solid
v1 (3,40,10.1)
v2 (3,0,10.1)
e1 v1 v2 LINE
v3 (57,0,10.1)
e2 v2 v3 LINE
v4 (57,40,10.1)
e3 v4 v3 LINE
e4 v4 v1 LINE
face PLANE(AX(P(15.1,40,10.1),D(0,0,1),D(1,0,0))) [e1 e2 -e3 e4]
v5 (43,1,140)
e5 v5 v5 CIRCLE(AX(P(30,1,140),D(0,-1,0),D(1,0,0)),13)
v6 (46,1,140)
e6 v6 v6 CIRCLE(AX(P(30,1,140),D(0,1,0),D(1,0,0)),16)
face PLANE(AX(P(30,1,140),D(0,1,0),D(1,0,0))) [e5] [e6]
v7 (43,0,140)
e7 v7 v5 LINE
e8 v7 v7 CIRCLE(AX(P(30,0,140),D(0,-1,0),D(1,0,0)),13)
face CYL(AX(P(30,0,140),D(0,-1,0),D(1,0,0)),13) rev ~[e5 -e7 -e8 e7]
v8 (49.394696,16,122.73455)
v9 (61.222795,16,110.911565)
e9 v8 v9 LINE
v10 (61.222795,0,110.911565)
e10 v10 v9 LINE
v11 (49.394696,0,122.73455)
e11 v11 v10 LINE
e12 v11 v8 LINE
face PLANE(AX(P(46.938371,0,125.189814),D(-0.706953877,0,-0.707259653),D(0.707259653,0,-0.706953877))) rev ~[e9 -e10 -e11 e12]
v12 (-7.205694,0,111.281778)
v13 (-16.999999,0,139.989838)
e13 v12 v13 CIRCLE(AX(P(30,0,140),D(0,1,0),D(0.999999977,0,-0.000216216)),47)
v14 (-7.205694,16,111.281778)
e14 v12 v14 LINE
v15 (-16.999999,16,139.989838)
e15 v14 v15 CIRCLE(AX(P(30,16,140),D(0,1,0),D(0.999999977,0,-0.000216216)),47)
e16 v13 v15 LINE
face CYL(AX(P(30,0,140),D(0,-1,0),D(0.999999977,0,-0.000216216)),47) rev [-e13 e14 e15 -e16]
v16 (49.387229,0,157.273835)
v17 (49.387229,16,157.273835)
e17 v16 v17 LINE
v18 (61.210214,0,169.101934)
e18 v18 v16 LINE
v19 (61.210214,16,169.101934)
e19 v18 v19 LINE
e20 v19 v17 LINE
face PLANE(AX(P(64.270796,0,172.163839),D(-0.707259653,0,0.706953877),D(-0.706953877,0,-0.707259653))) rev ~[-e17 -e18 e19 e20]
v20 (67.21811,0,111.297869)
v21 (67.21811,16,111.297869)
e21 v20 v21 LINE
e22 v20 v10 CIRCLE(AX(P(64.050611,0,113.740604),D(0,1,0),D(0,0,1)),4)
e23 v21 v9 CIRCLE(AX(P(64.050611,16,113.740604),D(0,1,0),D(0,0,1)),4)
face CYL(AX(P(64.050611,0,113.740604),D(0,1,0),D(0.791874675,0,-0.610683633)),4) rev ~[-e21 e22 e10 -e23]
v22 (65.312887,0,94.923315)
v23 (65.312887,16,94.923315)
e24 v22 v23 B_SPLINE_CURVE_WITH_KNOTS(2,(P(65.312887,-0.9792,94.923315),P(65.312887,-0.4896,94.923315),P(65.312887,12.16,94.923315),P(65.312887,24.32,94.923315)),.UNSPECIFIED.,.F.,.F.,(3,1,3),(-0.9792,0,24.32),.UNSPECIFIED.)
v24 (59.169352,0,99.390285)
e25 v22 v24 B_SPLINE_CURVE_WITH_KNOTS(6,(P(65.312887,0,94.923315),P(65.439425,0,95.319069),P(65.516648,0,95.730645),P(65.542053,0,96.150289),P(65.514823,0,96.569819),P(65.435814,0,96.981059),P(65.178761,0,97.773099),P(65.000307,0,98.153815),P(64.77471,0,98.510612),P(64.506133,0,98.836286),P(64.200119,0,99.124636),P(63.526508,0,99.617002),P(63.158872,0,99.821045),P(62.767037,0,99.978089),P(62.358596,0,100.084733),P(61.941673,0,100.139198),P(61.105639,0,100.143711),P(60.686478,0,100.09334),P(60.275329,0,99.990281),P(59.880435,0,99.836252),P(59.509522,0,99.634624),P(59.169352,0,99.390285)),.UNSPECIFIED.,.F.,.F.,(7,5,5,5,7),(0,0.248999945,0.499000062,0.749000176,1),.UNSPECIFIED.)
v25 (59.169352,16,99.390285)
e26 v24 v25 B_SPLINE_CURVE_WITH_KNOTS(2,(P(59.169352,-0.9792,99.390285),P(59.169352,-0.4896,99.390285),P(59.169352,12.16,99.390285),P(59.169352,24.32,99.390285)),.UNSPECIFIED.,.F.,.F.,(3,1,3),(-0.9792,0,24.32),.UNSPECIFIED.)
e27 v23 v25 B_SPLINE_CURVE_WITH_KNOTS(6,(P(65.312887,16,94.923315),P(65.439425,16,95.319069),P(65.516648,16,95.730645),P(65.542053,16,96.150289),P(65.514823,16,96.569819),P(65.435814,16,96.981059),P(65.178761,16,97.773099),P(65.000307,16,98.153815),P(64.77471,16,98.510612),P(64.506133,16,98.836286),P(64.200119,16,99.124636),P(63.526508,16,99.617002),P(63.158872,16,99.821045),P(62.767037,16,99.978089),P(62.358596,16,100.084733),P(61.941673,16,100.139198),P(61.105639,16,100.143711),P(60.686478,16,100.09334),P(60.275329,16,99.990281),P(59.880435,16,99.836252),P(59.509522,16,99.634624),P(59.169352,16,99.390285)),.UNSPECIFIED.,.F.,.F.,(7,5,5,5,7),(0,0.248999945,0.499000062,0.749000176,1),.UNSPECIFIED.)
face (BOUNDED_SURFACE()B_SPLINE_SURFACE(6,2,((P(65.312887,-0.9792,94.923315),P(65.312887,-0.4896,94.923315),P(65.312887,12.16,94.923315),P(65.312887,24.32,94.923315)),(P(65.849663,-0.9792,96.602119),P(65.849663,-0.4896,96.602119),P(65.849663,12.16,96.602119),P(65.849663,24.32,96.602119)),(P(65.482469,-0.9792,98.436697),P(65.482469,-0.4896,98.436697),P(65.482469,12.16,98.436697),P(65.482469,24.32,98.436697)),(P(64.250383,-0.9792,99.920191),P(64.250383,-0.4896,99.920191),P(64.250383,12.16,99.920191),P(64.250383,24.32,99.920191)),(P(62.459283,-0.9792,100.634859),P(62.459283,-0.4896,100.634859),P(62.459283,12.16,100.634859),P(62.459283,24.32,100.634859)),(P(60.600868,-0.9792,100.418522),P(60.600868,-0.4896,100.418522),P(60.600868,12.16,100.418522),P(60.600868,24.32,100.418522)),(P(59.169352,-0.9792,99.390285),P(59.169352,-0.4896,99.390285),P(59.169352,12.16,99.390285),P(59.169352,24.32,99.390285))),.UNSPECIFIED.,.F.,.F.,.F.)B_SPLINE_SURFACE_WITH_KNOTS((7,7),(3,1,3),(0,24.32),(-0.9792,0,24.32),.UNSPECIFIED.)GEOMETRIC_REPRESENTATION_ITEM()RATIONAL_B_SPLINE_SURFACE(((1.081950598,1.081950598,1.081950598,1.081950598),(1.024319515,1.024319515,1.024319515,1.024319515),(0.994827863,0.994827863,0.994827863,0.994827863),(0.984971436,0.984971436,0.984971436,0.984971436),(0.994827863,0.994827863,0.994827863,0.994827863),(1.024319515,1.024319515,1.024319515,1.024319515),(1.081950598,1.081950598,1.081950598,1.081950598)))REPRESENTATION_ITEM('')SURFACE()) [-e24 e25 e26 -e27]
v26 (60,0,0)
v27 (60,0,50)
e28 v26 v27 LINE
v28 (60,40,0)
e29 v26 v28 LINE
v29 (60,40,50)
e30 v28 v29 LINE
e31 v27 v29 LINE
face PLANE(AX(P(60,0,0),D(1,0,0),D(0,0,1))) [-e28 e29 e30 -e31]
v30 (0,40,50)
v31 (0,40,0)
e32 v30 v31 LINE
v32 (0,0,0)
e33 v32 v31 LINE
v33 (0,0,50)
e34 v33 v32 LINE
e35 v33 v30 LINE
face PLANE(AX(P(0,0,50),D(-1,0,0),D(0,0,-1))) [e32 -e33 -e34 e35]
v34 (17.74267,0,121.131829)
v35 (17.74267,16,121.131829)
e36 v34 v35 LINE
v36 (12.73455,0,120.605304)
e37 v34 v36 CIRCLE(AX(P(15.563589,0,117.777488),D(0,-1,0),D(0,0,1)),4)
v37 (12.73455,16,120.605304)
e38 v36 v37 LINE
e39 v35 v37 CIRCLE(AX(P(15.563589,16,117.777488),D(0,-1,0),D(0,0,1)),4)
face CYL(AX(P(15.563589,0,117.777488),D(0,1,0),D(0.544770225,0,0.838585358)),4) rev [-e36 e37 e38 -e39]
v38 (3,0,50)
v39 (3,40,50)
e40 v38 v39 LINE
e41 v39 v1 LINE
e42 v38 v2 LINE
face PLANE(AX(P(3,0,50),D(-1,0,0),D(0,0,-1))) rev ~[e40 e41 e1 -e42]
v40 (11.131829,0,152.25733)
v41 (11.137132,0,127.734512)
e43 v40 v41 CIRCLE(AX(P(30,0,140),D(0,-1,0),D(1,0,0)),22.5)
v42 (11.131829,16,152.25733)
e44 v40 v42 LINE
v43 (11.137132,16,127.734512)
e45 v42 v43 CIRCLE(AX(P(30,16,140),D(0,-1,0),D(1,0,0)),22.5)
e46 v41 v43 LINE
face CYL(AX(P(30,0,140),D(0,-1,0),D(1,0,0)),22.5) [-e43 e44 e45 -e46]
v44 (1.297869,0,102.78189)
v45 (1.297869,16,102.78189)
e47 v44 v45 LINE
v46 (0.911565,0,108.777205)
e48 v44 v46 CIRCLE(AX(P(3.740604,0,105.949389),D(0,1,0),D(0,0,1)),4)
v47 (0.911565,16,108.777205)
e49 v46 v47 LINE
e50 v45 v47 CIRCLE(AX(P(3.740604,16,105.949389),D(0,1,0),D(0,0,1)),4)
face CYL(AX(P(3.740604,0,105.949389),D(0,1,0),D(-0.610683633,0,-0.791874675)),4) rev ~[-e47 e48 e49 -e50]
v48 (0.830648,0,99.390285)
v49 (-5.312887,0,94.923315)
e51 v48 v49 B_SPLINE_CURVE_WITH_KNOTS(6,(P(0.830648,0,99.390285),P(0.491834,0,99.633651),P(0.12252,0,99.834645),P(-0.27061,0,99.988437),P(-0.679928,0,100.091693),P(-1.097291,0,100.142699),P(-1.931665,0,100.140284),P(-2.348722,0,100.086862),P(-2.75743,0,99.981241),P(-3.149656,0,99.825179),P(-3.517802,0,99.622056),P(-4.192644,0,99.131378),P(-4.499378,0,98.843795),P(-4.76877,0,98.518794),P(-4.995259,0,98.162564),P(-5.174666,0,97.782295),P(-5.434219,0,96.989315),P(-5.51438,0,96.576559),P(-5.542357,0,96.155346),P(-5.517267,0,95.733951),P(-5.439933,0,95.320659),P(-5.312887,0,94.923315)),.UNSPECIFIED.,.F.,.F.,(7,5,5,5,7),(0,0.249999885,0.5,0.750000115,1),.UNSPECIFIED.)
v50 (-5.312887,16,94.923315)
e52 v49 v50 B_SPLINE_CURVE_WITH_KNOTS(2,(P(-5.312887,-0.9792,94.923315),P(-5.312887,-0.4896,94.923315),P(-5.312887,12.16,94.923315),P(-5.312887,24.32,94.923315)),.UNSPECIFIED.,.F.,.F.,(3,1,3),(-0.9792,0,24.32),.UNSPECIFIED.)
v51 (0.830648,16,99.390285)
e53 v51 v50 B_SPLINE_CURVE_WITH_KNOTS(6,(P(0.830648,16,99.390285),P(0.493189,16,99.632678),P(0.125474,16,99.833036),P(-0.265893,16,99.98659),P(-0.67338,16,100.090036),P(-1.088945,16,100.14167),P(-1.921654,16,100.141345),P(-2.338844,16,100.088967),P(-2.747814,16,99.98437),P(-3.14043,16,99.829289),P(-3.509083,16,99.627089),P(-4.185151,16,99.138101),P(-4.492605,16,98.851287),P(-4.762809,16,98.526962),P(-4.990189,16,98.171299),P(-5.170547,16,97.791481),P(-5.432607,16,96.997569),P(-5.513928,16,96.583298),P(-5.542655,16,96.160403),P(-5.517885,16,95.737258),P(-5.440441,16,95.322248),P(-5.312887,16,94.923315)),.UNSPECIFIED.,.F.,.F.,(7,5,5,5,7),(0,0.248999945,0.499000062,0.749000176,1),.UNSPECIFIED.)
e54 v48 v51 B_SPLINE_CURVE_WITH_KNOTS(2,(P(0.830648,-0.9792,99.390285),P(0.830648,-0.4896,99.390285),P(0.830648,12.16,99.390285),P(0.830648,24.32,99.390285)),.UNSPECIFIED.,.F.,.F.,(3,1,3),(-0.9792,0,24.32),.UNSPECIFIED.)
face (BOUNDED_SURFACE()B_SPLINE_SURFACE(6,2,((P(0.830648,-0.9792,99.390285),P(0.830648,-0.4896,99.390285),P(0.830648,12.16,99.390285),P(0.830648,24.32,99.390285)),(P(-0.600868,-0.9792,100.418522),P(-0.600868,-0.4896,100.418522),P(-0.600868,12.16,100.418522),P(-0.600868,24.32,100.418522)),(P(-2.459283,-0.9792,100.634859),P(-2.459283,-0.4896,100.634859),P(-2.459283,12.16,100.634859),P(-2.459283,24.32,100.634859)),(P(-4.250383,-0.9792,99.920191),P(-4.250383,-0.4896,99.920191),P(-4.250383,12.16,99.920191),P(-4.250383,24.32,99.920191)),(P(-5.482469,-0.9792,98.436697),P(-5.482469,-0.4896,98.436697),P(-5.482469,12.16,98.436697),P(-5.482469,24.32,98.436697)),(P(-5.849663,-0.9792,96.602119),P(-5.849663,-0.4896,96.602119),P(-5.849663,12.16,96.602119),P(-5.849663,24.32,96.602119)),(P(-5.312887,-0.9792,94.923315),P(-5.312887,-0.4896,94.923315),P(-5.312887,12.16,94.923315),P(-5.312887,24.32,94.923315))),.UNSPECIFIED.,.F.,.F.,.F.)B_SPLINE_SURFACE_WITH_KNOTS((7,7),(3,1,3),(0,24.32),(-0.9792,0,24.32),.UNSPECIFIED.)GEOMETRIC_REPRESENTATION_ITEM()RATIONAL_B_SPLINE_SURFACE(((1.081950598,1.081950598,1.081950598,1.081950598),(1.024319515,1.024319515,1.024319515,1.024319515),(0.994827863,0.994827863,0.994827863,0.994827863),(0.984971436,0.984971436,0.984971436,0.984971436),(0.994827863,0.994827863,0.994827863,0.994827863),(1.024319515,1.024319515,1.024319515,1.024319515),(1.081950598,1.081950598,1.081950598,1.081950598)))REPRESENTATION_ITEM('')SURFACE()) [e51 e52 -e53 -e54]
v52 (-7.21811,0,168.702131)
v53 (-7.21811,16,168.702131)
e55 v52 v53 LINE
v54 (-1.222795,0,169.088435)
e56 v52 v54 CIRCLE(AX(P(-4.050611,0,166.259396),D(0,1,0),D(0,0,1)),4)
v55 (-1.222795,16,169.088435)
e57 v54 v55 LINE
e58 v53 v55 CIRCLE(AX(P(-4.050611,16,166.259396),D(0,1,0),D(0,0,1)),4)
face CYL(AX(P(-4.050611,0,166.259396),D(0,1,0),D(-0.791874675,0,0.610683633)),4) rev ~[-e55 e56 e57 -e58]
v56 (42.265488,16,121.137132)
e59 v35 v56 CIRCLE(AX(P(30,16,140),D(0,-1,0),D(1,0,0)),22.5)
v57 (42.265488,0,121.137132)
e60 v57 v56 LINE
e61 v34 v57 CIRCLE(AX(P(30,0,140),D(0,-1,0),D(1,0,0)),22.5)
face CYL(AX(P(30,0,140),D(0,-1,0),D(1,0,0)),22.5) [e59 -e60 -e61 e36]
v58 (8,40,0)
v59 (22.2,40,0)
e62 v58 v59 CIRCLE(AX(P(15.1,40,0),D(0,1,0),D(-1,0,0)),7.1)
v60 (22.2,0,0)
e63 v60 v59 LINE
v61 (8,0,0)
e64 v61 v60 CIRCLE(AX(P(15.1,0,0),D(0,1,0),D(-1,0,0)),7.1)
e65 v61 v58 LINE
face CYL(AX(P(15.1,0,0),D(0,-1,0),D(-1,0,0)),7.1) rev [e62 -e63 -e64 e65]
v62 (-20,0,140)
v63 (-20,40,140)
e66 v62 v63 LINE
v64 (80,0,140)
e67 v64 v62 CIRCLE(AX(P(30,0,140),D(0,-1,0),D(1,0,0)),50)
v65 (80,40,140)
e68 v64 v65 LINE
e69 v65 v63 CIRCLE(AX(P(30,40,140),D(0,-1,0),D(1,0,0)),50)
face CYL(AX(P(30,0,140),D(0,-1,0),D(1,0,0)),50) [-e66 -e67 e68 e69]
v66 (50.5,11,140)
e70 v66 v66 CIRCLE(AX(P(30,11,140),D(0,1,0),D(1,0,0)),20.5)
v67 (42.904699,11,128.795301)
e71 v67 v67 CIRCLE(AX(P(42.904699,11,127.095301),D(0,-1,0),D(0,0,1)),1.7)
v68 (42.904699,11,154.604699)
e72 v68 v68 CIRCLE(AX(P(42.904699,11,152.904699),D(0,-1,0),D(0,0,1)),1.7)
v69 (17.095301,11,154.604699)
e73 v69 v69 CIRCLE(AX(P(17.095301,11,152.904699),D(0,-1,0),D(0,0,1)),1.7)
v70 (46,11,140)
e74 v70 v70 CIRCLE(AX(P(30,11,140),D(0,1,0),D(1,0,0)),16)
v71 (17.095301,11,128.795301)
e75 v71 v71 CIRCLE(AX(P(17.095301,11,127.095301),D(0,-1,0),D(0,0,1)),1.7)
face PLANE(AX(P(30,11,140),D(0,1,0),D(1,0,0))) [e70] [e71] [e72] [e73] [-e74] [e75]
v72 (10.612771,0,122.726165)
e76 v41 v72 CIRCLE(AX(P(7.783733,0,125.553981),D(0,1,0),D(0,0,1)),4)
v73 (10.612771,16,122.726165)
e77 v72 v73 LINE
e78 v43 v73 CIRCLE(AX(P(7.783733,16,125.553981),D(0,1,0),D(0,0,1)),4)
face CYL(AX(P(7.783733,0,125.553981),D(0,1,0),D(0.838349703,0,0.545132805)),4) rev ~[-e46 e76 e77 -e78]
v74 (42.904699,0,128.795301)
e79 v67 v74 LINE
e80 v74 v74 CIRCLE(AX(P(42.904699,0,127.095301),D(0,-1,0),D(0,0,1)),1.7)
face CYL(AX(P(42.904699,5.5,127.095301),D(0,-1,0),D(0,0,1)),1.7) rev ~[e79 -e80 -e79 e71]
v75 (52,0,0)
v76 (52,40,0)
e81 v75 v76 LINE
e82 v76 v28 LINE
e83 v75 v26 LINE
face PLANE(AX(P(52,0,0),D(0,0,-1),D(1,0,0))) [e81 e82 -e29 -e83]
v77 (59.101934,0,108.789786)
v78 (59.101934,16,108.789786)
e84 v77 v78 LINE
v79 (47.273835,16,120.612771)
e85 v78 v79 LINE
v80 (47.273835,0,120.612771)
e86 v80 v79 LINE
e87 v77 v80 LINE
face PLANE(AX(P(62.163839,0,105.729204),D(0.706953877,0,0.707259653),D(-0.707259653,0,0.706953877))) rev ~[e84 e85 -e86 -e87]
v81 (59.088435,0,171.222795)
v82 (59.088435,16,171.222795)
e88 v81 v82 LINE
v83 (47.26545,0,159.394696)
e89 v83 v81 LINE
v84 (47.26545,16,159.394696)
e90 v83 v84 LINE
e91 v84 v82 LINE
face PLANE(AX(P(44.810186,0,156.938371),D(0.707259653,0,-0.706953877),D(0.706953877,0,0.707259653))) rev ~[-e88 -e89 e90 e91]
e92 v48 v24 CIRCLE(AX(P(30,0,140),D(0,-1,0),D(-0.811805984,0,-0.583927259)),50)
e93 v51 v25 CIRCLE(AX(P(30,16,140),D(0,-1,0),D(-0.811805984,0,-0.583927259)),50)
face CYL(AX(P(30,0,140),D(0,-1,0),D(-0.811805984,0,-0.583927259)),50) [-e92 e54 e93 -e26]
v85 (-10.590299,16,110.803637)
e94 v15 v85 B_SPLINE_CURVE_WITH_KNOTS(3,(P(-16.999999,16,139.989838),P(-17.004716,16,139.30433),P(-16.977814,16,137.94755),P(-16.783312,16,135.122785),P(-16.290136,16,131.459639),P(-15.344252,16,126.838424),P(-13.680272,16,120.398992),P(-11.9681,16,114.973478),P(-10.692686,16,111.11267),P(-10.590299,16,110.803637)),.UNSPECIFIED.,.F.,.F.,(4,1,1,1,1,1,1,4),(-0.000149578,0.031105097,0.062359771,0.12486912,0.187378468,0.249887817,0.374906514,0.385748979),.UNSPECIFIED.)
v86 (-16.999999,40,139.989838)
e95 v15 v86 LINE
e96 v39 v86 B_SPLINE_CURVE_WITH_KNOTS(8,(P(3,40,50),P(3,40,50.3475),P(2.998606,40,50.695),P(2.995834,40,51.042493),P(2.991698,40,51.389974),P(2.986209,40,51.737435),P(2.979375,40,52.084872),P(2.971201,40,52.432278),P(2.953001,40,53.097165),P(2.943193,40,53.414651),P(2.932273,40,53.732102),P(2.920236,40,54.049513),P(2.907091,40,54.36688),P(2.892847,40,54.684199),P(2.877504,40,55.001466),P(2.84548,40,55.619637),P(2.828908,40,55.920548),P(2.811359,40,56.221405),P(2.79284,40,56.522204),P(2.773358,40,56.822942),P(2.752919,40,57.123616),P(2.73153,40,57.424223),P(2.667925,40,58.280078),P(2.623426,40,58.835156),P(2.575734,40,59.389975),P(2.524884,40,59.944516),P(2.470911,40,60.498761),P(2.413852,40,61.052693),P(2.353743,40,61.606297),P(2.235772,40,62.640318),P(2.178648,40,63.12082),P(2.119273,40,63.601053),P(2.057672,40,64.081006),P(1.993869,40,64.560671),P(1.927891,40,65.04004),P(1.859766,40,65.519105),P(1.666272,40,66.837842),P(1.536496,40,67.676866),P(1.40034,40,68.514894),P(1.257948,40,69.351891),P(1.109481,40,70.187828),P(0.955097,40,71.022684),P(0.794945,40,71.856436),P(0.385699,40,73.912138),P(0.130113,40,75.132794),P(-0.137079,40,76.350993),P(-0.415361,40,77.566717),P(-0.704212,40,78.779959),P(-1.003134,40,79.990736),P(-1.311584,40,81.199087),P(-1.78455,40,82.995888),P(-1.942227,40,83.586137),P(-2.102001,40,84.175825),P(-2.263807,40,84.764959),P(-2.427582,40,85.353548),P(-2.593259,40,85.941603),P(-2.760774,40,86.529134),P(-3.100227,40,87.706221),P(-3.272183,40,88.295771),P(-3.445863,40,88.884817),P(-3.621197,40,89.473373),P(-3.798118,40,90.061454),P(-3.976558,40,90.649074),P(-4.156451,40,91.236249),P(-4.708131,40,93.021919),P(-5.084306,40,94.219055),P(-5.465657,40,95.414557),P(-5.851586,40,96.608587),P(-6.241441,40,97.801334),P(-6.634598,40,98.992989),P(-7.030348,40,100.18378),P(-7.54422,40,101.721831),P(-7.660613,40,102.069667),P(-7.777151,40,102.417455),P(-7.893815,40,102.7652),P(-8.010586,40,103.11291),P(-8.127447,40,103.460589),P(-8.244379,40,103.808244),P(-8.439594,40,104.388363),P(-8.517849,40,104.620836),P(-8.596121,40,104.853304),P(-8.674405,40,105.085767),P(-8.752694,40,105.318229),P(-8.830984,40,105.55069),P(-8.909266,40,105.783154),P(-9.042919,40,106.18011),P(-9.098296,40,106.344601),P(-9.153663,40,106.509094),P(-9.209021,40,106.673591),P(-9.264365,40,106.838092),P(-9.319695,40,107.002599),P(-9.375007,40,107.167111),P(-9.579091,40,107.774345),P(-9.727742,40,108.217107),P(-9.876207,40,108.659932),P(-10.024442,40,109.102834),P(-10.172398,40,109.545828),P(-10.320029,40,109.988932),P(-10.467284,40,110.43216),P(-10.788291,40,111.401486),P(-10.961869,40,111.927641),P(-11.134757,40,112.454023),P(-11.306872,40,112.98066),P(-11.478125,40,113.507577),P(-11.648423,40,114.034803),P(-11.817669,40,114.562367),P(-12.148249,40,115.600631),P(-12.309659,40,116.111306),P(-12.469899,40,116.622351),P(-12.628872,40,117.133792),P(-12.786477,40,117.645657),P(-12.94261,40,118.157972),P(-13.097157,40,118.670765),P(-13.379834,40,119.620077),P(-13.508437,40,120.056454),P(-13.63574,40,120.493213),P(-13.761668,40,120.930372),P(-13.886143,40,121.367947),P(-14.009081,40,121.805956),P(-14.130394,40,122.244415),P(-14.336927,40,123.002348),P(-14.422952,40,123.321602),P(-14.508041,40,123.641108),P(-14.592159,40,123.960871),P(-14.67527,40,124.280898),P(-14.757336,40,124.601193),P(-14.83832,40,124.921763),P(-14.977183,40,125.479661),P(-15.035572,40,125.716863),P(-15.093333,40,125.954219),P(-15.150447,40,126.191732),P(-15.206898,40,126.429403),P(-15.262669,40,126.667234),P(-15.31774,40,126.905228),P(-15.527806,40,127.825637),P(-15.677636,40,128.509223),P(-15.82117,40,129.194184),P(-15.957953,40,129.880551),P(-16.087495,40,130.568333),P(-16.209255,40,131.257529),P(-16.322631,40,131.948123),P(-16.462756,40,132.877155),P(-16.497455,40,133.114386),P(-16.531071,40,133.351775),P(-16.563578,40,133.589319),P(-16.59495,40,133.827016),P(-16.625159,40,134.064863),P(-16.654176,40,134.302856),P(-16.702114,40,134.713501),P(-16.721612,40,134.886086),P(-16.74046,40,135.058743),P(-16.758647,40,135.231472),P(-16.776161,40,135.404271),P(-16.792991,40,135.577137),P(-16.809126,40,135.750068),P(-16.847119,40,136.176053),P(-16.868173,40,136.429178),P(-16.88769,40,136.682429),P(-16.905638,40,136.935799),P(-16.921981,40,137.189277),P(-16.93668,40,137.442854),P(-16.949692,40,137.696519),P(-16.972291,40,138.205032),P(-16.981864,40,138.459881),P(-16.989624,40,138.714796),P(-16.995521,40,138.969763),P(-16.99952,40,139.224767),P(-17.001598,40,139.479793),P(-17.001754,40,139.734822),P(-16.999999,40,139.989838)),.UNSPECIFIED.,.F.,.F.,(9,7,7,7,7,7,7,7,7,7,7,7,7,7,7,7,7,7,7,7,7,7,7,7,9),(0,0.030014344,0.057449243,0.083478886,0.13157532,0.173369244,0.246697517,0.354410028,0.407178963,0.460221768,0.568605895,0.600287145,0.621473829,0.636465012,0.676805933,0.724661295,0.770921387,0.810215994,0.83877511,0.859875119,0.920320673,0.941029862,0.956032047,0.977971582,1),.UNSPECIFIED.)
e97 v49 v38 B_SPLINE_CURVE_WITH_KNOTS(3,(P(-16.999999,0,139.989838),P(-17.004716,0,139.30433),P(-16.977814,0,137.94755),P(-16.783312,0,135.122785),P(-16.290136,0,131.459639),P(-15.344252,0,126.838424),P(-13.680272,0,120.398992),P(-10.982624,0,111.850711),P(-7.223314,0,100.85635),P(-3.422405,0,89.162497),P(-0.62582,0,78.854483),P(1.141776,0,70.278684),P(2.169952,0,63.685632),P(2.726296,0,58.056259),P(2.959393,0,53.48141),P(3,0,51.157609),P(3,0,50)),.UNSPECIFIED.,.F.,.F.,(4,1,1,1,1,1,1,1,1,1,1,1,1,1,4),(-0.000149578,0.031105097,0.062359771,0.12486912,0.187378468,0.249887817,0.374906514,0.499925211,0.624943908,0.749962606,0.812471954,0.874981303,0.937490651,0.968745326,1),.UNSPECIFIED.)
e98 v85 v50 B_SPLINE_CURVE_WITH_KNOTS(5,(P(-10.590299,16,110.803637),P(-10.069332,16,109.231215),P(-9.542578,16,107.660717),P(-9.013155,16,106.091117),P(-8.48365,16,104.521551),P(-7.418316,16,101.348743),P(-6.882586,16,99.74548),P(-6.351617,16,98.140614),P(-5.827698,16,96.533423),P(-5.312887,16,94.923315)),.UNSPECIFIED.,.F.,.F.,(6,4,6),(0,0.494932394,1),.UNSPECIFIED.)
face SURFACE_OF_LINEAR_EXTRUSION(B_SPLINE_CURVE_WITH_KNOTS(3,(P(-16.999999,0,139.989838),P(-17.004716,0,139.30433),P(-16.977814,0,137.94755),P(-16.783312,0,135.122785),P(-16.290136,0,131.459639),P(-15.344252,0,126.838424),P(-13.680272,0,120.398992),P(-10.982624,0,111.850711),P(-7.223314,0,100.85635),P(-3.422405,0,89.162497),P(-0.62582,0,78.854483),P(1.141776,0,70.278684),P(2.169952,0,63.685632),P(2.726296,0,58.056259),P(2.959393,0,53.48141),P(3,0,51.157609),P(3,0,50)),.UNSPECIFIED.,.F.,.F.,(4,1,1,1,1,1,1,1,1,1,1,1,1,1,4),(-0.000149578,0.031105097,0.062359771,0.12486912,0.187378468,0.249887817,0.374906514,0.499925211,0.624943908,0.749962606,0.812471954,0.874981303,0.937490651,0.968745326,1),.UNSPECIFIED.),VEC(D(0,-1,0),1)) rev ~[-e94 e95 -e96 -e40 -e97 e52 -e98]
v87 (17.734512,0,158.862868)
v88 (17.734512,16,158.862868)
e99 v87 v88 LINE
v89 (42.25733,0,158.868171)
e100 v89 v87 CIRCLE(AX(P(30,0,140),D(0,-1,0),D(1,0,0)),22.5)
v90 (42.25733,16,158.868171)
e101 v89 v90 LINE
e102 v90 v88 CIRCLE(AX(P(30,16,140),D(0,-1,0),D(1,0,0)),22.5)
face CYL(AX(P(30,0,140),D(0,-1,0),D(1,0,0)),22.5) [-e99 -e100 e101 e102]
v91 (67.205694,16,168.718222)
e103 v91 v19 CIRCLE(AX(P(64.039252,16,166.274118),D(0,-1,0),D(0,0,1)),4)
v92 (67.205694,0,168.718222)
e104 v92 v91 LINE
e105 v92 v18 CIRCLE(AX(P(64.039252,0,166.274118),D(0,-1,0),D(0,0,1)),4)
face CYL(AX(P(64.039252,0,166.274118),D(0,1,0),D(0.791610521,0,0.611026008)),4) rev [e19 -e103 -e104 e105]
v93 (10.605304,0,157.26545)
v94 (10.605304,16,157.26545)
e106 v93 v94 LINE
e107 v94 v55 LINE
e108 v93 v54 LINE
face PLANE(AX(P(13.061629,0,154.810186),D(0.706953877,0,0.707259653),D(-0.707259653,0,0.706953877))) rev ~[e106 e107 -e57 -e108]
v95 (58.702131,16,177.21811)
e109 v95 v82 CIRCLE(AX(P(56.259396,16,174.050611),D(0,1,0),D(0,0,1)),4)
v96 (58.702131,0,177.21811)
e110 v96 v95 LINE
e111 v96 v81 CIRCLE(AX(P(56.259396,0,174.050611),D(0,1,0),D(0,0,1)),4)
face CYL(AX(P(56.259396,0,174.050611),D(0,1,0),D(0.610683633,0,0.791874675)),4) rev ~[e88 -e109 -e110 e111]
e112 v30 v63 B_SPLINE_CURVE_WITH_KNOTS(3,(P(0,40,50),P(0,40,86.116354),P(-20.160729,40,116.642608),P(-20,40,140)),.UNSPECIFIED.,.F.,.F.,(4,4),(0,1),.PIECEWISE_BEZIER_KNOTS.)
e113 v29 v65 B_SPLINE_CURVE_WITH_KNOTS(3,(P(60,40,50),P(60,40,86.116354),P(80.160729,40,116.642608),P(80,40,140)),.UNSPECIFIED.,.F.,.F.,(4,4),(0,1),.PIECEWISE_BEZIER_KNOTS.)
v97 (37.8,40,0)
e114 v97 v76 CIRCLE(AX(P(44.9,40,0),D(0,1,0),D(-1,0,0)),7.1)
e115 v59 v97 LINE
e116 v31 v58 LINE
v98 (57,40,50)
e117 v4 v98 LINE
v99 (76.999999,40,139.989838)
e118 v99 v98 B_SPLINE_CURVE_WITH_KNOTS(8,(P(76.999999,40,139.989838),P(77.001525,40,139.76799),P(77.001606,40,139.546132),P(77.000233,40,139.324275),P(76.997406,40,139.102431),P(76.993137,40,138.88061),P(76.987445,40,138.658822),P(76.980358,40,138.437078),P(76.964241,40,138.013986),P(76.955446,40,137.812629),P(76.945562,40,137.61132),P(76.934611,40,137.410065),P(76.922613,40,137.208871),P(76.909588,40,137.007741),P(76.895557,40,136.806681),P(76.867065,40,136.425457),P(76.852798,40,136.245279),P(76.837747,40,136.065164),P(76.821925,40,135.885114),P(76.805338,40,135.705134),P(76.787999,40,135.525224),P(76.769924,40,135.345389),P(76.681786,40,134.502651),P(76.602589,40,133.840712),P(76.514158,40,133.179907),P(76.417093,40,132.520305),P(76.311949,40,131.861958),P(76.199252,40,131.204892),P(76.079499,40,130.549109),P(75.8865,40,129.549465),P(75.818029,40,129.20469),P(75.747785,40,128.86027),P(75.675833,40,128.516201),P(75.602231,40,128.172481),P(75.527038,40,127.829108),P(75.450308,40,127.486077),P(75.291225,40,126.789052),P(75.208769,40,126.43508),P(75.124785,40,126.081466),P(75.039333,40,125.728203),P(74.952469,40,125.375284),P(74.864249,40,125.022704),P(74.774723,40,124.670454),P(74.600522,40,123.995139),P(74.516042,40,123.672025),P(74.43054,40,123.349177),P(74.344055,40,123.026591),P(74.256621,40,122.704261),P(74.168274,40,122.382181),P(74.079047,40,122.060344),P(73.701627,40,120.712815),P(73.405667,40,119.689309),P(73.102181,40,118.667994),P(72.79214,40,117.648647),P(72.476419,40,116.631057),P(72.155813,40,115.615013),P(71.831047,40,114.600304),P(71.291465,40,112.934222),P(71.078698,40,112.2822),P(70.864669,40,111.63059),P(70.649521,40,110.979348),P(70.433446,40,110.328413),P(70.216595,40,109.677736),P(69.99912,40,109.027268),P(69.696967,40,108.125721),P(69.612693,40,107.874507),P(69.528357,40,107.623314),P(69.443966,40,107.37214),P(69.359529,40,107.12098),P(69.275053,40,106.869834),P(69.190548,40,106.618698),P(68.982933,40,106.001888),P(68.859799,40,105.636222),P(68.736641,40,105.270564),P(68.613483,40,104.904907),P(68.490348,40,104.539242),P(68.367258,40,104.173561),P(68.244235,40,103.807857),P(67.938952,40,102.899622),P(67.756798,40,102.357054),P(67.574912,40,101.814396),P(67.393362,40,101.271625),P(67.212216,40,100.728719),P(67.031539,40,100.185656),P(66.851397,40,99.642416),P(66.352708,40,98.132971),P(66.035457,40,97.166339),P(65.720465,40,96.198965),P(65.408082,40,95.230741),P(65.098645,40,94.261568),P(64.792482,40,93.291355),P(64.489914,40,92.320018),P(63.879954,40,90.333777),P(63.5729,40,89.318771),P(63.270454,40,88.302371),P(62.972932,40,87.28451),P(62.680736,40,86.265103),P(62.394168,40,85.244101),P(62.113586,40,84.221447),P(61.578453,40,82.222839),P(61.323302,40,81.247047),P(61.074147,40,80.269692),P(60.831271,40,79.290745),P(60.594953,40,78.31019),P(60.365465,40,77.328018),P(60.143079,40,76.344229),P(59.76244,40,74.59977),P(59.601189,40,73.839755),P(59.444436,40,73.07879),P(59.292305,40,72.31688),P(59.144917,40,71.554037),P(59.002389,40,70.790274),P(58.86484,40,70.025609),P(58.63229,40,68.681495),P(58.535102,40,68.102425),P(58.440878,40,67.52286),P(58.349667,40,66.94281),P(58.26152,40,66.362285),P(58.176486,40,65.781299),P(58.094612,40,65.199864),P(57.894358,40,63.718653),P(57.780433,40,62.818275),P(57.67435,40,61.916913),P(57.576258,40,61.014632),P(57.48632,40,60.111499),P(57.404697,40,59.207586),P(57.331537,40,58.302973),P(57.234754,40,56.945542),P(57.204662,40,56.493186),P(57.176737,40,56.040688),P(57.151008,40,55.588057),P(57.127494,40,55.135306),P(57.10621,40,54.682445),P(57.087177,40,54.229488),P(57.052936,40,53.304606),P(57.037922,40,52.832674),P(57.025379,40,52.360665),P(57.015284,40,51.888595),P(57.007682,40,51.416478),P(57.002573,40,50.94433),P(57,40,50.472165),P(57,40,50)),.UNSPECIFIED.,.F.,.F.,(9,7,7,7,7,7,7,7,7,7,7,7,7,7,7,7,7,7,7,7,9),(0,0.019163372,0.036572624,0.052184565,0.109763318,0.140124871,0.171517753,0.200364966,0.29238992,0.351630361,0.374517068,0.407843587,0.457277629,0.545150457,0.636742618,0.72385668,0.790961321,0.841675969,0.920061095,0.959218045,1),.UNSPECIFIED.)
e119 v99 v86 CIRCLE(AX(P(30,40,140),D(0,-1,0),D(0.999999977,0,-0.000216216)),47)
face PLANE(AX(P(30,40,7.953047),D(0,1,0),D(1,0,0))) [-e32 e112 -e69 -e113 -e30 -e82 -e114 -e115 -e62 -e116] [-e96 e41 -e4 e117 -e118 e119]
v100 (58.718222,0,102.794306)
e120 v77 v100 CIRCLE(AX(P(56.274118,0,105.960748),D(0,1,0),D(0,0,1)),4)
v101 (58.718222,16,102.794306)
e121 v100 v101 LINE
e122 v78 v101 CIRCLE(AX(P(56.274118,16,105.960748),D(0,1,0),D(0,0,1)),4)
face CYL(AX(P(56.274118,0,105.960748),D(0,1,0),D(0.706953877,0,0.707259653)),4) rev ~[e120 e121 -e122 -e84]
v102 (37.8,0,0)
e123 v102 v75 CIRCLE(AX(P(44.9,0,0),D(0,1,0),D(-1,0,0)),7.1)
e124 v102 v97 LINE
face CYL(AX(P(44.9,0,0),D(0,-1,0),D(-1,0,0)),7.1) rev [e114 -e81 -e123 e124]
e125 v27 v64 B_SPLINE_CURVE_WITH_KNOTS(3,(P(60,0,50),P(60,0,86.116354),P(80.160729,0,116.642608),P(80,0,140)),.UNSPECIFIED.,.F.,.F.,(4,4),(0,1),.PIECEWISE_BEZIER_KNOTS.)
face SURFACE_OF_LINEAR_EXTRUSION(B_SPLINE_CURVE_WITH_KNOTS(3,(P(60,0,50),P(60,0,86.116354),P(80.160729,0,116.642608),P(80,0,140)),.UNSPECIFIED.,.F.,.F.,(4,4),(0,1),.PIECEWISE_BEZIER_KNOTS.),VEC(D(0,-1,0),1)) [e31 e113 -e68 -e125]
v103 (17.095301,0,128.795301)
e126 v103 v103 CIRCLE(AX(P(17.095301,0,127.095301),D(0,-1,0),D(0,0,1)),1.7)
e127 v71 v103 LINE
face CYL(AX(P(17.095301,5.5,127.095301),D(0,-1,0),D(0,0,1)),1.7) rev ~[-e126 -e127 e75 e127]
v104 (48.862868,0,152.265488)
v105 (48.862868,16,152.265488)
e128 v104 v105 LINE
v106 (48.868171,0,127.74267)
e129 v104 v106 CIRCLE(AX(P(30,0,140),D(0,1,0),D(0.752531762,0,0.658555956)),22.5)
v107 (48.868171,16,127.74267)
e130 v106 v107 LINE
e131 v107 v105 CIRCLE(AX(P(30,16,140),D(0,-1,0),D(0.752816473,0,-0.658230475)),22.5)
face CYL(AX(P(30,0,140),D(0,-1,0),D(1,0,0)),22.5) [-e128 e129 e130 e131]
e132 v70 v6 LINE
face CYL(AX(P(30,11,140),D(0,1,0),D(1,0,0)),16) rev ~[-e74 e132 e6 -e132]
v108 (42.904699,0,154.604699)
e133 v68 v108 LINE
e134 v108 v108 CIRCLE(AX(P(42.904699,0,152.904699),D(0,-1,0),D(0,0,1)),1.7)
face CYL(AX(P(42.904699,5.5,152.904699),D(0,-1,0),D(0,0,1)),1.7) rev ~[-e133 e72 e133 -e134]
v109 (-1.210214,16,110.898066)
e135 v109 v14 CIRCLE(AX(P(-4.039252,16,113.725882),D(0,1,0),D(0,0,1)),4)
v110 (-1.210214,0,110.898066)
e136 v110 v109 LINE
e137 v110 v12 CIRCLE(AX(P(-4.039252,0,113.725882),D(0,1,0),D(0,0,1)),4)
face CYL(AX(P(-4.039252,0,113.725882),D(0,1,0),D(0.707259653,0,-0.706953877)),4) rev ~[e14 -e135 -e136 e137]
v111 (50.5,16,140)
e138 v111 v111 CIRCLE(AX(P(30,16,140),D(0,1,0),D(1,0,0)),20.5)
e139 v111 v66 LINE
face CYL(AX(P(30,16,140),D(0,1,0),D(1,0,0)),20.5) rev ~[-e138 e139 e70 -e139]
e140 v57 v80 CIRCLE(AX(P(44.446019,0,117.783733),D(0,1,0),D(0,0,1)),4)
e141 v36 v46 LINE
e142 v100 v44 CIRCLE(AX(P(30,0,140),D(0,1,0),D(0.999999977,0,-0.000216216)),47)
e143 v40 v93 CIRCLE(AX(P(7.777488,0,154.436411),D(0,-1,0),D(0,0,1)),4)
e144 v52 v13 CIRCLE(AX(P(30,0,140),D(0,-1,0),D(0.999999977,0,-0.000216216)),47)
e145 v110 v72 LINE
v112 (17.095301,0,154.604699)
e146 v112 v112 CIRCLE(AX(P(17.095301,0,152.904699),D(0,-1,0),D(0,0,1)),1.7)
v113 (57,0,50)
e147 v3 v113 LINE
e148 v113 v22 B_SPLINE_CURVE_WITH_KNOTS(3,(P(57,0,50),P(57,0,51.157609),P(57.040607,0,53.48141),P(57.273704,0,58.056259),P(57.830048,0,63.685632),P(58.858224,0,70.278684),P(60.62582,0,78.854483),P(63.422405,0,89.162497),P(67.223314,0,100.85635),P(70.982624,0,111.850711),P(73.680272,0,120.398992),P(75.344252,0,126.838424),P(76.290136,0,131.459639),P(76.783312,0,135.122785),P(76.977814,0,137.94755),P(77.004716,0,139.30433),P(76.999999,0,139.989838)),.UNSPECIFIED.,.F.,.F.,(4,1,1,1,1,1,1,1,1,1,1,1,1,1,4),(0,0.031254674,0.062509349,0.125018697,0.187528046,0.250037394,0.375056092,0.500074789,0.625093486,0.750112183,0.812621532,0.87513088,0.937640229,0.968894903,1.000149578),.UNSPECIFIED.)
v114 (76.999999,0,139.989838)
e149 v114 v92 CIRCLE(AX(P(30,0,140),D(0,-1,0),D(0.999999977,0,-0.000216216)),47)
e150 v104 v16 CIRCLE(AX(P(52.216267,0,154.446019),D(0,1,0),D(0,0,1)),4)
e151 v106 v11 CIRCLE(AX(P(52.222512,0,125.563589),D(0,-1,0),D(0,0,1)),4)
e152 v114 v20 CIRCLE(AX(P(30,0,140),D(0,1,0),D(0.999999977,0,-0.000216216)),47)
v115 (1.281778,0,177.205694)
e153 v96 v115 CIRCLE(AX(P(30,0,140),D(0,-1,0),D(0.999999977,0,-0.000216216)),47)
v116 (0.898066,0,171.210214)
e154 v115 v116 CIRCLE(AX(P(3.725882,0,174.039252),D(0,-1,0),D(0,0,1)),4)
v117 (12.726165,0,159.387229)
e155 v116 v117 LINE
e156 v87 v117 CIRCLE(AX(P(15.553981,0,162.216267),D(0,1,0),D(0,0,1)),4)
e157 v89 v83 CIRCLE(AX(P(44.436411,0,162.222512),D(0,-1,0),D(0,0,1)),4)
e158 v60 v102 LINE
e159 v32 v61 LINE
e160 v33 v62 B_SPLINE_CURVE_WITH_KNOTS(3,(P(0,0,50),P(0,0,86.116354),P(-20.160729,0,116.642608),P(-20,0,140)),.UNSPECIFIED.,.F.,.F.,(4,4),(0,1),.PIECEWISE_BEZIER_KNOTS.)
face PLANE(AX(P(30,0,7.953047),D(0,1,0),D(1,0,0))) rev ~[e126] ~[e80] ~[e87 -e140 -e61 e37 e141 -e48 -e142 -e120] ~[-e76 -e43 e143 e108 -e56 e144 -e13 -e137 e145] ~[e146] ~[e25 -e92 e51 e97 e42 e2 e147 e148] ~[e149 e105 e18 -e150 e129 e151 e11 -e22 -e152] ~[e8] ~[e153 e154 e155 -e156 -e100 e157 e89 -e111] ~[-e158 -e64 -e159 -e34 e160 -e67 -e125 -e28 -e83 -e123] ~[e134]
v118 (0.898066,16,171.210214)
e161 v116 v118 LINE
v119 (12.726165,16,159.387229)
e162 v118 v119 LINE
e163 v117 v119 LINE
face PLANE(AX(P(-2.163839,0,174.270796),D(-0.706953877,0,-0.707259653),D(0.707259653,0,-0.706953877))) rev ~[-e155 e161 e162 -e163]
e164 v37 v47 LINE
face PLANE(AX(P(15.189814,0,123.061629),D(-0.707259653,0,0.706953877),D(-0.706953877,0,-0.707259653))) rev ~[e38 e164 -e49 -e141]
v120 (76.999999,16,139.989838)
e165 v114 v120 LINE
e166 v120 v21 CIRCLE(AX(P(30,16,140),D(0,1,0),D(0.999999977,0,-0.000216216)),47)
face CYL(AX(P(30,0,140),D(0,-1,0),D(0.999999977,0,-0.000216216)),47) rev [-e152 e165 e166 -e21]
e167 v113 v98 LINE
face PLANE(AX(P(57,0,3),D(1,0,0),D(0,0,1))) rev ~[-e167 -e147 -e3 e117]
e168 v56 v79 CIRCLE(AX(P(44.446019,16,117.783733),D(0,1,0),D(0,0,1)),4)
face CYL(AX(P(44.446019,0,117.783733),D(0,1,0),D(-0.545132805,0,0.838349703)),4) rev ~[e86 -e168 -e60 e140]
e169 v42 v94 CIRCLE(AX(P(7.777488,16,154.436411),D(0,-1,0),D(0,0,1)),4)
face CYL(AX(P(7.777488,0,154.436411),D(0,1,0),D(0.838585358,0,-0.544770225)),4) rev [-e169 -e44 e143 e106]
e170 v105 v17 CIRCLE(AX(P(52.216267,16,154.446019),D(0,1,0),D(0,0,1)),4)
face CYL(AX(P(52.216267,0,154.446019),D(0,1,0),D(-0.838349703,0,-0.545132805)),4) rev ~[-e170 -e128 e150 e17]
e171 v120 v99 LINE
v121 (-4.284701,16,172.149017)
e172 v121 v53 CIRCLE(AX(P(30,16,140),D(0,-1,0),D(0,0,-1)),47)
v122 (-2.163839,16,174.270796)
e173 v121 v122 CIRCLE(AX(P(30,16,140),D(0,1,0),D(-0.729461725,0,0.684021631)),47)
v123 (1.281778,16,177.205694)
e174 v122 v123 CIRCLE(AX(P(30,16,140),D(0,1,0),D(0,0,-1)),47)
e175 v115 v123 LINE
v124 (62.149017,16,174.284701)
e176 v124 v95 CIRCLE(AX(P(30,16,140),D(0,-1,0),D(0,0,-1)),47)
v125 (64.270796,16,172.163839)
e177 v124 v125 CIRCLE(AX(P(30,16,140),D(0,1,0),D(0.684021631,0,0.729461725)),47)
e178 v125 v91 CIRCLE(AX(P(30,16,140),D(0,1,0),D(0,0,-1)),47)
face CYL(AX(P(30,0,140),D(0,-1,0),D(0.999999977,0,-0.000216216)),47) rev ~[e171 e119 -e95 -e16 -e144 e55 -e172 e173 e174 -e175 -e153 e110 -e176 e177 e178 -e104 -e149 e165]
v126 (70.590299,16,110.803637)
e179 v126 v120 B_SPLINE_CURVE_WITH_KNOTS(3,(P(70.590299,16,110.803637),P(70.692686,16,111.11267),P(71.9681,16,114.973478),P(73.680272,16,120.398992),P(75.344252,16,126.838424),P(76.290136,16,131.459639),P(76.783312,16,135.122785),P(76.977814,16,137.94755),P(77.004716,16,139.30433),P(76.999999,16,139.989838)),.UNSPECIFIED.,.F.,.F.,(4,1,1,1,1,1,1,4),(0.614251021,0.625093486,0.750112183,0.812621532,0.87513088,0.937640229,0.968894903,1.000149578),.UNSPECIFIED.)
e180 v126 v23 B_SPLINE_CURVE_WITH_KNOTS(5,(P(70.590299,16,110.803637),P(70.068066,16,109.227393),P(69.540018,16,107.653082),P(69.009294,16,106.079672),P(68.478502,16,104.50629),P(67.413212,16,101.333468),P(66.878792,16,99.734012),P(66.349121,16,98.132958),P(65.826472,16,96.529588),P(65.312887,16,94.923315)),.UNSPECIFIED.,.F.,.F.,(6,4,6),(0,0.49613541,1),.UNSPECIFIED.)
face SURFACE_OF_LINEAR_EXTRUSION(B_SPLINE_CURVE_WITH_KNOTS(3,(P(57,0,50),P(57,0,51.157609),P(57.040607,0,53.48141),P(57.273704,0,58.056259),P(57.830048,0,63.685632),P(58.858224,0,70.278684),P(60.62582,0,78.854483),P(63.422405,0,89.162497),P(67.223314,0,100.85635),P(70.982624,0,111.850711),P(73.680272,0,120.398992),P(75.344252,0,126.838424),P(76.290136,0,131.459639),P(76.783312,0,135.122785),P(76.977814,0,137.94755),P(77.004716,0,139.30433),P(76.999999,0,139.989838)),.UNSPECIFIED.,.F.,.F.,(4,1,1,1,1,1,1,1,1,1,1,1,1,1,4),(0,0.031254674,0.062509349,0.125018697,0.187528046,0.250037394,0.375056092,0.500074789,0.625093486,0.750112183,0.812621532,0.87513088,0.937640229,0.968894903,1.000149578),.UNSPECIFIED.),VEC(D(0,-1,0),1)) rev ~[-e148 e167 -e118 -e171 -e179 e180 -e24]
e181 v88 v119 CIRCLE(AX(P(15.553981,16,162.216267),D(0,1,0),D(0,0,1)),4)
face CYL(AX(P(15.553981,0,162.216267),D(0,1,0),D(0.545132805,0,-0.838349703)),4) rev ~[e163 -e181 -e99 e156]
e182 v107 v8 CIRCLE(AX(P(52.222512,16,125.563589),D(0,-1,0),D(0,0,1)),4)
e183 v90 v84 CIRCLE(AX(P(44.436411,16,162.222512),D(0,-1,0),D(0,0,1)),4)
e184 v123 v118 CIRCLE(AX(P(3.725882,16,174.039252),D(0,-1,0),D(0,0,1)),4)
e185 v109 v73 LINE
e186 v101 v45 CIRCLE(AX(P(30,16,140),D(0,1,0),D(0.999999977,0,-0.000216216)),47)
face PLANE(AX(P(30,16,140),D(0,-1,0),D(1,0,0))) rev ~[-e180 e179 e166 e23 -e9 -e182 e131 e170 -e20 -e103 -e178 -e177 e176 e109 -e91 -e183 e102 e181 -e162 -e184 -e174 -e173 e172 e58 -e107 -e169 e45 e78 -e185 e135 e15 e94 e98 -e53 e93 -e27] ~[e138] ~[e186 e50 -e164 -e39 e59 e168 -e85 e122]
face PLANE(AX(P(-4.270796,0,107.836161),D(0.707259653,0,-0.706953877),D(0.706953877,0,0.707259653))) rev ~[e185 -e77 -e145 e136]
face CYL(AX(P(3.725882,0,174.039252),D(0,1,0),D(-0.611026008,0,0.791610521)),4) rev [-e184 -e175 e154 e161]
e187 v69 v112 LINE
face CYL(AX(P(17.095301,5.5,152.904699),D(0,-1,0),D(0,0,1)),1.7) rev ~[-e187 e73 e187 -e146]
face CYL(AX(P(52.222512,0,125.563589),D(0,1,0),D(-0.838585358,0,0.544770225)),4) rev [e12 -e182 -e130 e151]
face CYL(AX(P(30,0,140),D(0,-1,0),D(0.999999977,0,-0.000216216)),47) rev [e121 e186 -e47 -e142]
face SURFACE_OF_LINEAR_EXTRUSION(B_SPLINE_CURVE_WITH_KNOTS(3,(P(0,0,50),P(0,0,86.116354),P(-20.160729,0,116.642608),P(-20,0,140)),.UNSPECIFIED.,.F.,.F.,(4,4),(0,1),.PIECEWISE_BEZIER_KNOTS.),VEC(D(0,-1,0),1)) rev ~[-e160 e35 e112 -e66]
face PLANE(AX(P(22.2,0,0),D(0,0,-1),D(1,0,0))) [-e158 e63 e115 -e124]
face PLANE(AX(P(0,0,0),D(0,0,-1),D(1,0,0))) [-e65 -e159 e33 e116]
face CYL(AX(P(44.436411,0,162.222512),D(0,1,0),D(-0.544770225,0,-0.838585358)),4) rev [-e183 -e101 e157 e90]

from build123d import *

# Parameters (mm, degrees)
EXTRUDE_1_DEPTH            = 40
CUT_EXTRUDE_1_DEPTH        = 41.0000001
SKETCH_3_R                 = 22.5
SKETCH_3_R_2               = 13
EXTRUDE_2_DEPTH            = 16
SKETCH_4_R                 = 20.5
CUT_EXTRUDE_2_DEPTH        = 5
SKETCH_5_R                 = 16
CUT_EXTRUDE_3_DEPTH        = 10
SKETCH_7_W                 = 1.7
SKETCH_7_H                 = 11
HOLE_WIZARD_M31_AT_2_COUNT = 2
HOLE_WIZARD_M31_AT_2_PITCH = 25.809397513
HOLE_WIZARD_M31_AT_3_COUNT = 2
HOLE_WIZARD_M31_AT_3_PITCH = 36.5
HOLE_WIZARD_M31_AT_4_COUNT = 2
HOLE_WIZARD_M31_AT_4_PITCH = 25.809397513
EXTRUDE_3_DEPTH            = 16
EXTRUDE_4_DEPTH            = 16
FILLET_1_R                 = 4
FILLET_2_R                 = 4
EXTRUDE_5_DEPTH            = 40


with BuildPart() as part:
    # Эскиз1 → Бобышка-Вытянуть1 (new body)
    with BuildSketch(Plane(origin=(0, 0, 0), x_dir=(1, 0, 0), z_dir=(0, 1, 0))):
        with BuildLine():
            Line((0, 0), (8, 0))
            ThreePointArc((8, 0), (15.1, -7.1), (22.2, 0))
            Line((22.2, 0), (37.8, 0))
            ThreePointArc((37.8, 0), (44.9, -7.1), (52, 0))
            Line((52, 0), (60, 0))
            Line((60, 0), (60, -50))
            add(Edge.make_bspline(
                [(60, -50), (60, -86.116353651), (80.160728995, -116.642608399), (80, -140)],
                knots=[0, 0, 0, 0, 1, 1, 1, 1], degree=3))
            ThreePointArc((80, -140), (30, -190), (-20, -140))
            add(Edge.make_bspline(
                [(0, -50), (0, -86.116353651), (-20.160728995, -116.642608399), (-20, -140)],
                knots=[0, 0, 0, 0, 1, 1, 1, 1], degree=3))
            Line((0, -50), (0, 0))
        make_face()
    extrude(amount=EXTRUDE_1_DEPTH)

    # Эскиз2 → Вырез-Вытянуть1 (cut, through all)
    with BuildSketch(Plane.XZ):
        with BuildLine():
            Line((3, 50), (3, 3))
            Line((3, 3), (5.455830777, 3))
            ThreePointArc((5.455830777, 3), (15.1, 10.1), (24.744169223, 3))
            Line((24.744169223, 3), (35.255830777, 3))
            ThreePointArc((35.255830777, 3), (44.9, 10.1), (54.544169223, 3))
            Line((54.544169223, 3), (57, 3))
            Line((57, 3), (57, 50))
            add(Edge.make_bspline(
                [(57, 50), (57, 51.157609129), (57.040606582, 53.481410198), (57.273704219, 58.056259254), (57.830047707, 63.685631551), (58.858223783, 70.278683586), (60.625819875, 78.854483127), (63.422404864, 89.162496802), (67.223313935, 100.856350391), (70.98262402, 111.850711206), (73.680271867, 120.398992166), (75.344252207, 126.83842419), (76.290135947, 131.459638595), (76.783312256, 135.122784785), (76.977813987, 137.947550146), (77.004716082, 139.304329707), (76.999998901, 139.989837839)],
                knots=[0, 0, 0, 0, 0.031254674, 0.062509349, 0.125018697, 0.187528046, 0.250037394, 0.375056092, 0.500074789, 0.625093486, 0.750112183, 0.812621532, 0.87513088, 0.937640229, 0.968894903, 1.000149578, 1.000149578, 1.000149578, 1.000149578], degree=3))
            ThreePointArc((76.999998901, 139.989837839), (30, 187), (-16.999998901, 139.989837839))
            add(Edge.make_bspline(
                [(-16.999998901, 139.989837839), (-17.004716082, 139.304329707), (-16.977813987, 137.947550146), (-16.783312256, 135.122784785), (-16.290135947, 131.459638595), (-15.344252207, 126.83842419), (-13.680271867, 120.398992166), (-10.98262402, 111.850711206), (-7.223313935, 100.856350391), (-3.422404864, 89.162496802), (-0.625819875, 78.854483127), (1.141776217, 70.278683586), (2.169952293, 63.685631551), (2.726295781, 58.056259254), (2.959393418, 53.481410198), (3, 51.157609129), (3, 50)],
                knots=[-0.000149578, -0.000149578, -0.000149578, -0.000149578, 0.031105097, 0.062359771, 0.12486912, 0.187378468, 0.249887817, 0.374906514, 0.499925211, 0.624943908, 0.749962606, 0.812471954, 0.874981303, 0.937490651, 0.968745326, 1, 1, 1, 1], degree=3))
        make_face()
    extrude(amount=-CUT_EXTRUDE_1_DEPTH, mode=Mode.SUBTRACT)

    # Эскиз9 → Бобышка-Вытянуть3 (add)
    with BuildSketch(Plane.XZ):
        with BuildLine():
            ThreePointArc((-10.590299222, 110.803637057), (30, 90), (70.590299222, 110.803637057))
            add(Edge.make_bspline(
                [(70.590299222, 110.803637057), (70.692686494, 111.112669843), (71.968099867, 114.973477738), (73.680271867, 120.398992166), (75.344252207, 126.83842419), (76.290135947, 131.459638595), (76.783312256, 135.122784785), (76.977813987, 137.947550146), (77.004716082, 139.304329707), (76.999998901, 139.989837839)],
                knots=[0.614251021, 0.614251021, 0.614251021, 0.614251021, 0.625093486, 0.750112183, 0.812621532, 0.87513088, 0.937640229, 0.968894903, 1.000149578, 1.000149578, 1.000149578, 1.000149578], degree=3))
            ThreePointArc((76.999998901, 139.989837839), (30, 93), (-16.999998901, 139.989837839))
            add(Edge.make_bspline(
                [(-16.999998901, 139.989837839), (-17.004716082, 139.304329707), (-16.977813987, 137.947550146), (-16.783312256, 135.122784785), (-16.290135947, 131.459638595), (-15.344252207, 126.83842419), (-13.680271867, 120.398992166), (-11.968099867, 114.973477738), (-10.692686494, 111.112669843), (-10.590299222, 110.803637057)],
                knots=[-0.000149578, -0.000149578, -0.000149578, -0.000149578, 0.031105097, 0.062359771, 0.12486912, 0.187378468, 0.249887817, 0.374906514, 0.385748979, 0.385748979, 0.385748979, 0.385748979], degree=3))
        make_face()
    extrude(amount=-EXTRUDE_3_DEPTH)



with BuildPart() as body_2:
    # Эскиз3 → Бобышка-Вытянуть2 (new body)
    with BuildSketch(Plane.XZ):
        with Locations((30, 140)):
            Circle(SKETCH_3_R)
        with Locations((30, 140)):
            Circle(SKETCH_3_R_2, mode=Mode.SUBTRACT)
    extrude(amount=-EXTRUDE_2_DEPTH)

    # Эскиз4 → Вырез-Вытянуть2 (cut)
    with BuildSketch(Plane(origin=(0, 16, 0), x_dir=(1, 0, 0), z_dir=(0, 1, 0))):
        with Locations((30, -140)):
            Circle(SKETCH_4_R)
    extrude(amount=-CUT_EXTRUDE_2_DEPTH, mode=Mode.SUBTRACT)

    # Эскиз5 → Вырез-Вытянуть3 (cut)
    with BuildSketch(Plane(origin=(0, 11, 0), x_dir=(1, 0, 0), z_dir=(0, 1, 0))):
        with Locations((30, -140)):
            Circle(SKETCH_5_R)
    extrude(amount=-CUT_EXTRUDE_3_DEPTH, mode=Mode.SUBTRACT)

    # Эскиз7 → Отверстие с зазором M31 (revolve, cut)
    with BuildSketch(Plane(origin=(17.095301243, 11, 127.095301243), x_dir=(0, 0, 1), z_dir=(1, 0, 0))):
        with Locations((0.85, 5.5)):
            Rectangle(SKETCH_7_W, SKETCH_7_H)
    hole_wizard_m31 = revolve(axis=Axis((17.095301243, 17.35, 127.095301243), (0, -1, 0)), mode=Mode.SUBTRACT)

    # Отверстие с зазором M31 at 2: Отверстие с зазором M31 ×2
    with Locations(*[(i * HOLE_WIZARD_M31_AT_2_PITCH, 0, 0) for i in range(1, HOLE_WIZARD_M31_AT_2_COUNT)]):
        add(hole_wizard_m31, mode=Mode.SUBTRACT)

    # Отверстие с зазором M31 at 3: Отверстие с зазором M31 ×2
    with Locations(*[Vector(0.707106781, 0, 0.707106781) * (i * HOLE_WIZARD_M31_AT_3_PITCH) for i in range(1, HOLE_WIZARD_M31_AT_3_COUNT)]):
        add(hole_wizard_m31, mode=Mode.SUBTRACT)

    # Отверстие с зазором M31 at 4: Отверстие с зазором M31 ×2
    with Locations(*[(0, 0, i * HOLE_WIZARD_M31_AT_4_PITCH) for i in range(1, HOLE_WIZARD_M31_AT_4_COUNT)]):
        add(hole_wizard_m31, mode=Mode.SUBTRACT)


with BuildPart() as part_1:
    add(part.part)

    add(body_2.part)  # Бобышка-Вытянуть4 merges body 2
    # Эскиз10 → Бобышка-Вытянуть4 (add)
    with BuildSketch(Plane.XZ):
        with BuildLine():
            Line((13.061629364, 154.810185691), (-4.284701087, 172.149016647))
            ThreePointArc((-4.284701087, 172.149016647), (-3.241203672, 173.226832206), (-2.163839457, 174.270795605))
            Line((-2.163839457, 174.270795605), (15.182490994, 156.931964648))
            ThreePointArc((15.182490994, 156.931964648), (14.086657817, 155.906462226), (13.061629364, 154.810185691))
        make_face()
        with BuildLine():
            Line((15.189814309, 123.061629364), (-2.149016647, 105.715298913))
            ThreePointArc((-2.149016647, 105.715298913), (-3.226832206, 106.758796328), (-4.270795605, 107.836160543))
            Line((-4.270795605, 107.836160543), (13.068035352, 125.182490994))
            ThreePointArc((13.068035352, 125.182490994), (14.093537774, 124.086657817), (15.189814309, 123.061629364))
        make_face()
        with BuildLine():
            Line((44.810185691, 156.938370636), (62.149016647, 174.284701087))
            ThreePointArc((62.149016647, 174.284701087), (63.226832206, 173.241203672), (64.270795605, 172.163839457))
            Line((64.270795605, 172.163839457), (46.931964648, 154.817509006))
            ThreePointArc((46.931964648, 154.817509006), (45.906462226, 155.913342183), (44.810185691, 156.938370636))
        make_face()
        with BuildLine():
            Line((46.938370636, 125.189814309), (64.284701087, 107.850983353))
            ThreePointArc((64.284701087, 107.850983353), (63.241203672, 106.773167794), (62.163839457, 105.729204395))
            Line((62.163839457, 105.729204395), (44.817509006, 123.068035352))
            ThreePointArc((44.817509006, 123.068035352), (45.913342183, 124.093537774), (46.938370636, 125.189814309))
        make_face()
    extrude(amount=-EXTRUDE_4_DEPTH)

    # Скругление1
    fillet_1_edges = [part_1.edges().sort_by_distance(p)[0] for p in [
        (70.590299222, 8, 110.803637057),
        (-10.590299222, 8, 110.803637057),
    ]]
    fillet(fillet_1_edges, radius=FILLET_1_R)

    # Скругление2
    fillet_2_edges = [part_1.edges().sort_by_distance(p)[0] for p in [
        (-4.284701087, 8, 172.149016647),
        (-2.163839457, 8, 174.270795605),
        (15.182490994, 8, 156.931964648),
        (13.061629364, 8, 154.810185691),
        (62.149016647, 8, 174.284701087),
        (64.270795605, 8, 172.163839457),
        (46.931964648, 8, 154.817509006),
        (44.810185691, 8, 156.938370636),
        (64.284701087, 8, 107.850983353),
        (62.163839457, 8, 105.729204395),
        (44.817509006, 8, 123.068035352),
        (46.938370636, 8, 125.189814309),
        (-2.149016647, 8, 105.715298913),
        (-4.270795605, 8, 107.836160543),
        (13.068035352, 8, 125.182490994),
        (15.189814309, 8, 123.061629364),
    ]]
    fillet(fillet_2_edges, radius=FILLET_2_R)

    # Эскиз11 → Бобышка-Вытянуть5 (add, through all)
    with BuildSketch(Plane(origin=(0, 40, 0), x_dir=(1, 0, 0), z_dir=(0, 1, 0))):
        with BuildLine():
            ThreePointArc((24.744169223, -3), (21.087904475, -8.133572401), (15.1, -10.1))
            Line((15.1, -10.1), (44.9, -10.1))
            ThreePointArc((44.9, -10.1), (38.912095525, -8.133572401), (35.255830777, -3))
            Line((35.255830777, -3), (24.744169223, -3))
        make_face()
        with BuildLine():
            ThreePointArc((54.544169223, -3), (50.887904475, -8.133572401), (44.9, -10.1))
            Line((44.9, -10.1), (57, -10.1))
            Line((57, -10.1), (57, -3))
            Line((57, -3), (54.544169223, -3))
        make_face()
        with BuildLine():
            Line((3, -3), (3, -10.1))
            Line((3, -10.1), (15.1, -10.1))
            ThreePointArc((15.1, -10.1), (9.112095525, -8.133572401), (5.455830777, -3))
            Line((5.455830777, -3), (3, -3))
        make_face()
    extrude(amount=-EXTRUDE_5_DEPTH)


solid = part_1.part
